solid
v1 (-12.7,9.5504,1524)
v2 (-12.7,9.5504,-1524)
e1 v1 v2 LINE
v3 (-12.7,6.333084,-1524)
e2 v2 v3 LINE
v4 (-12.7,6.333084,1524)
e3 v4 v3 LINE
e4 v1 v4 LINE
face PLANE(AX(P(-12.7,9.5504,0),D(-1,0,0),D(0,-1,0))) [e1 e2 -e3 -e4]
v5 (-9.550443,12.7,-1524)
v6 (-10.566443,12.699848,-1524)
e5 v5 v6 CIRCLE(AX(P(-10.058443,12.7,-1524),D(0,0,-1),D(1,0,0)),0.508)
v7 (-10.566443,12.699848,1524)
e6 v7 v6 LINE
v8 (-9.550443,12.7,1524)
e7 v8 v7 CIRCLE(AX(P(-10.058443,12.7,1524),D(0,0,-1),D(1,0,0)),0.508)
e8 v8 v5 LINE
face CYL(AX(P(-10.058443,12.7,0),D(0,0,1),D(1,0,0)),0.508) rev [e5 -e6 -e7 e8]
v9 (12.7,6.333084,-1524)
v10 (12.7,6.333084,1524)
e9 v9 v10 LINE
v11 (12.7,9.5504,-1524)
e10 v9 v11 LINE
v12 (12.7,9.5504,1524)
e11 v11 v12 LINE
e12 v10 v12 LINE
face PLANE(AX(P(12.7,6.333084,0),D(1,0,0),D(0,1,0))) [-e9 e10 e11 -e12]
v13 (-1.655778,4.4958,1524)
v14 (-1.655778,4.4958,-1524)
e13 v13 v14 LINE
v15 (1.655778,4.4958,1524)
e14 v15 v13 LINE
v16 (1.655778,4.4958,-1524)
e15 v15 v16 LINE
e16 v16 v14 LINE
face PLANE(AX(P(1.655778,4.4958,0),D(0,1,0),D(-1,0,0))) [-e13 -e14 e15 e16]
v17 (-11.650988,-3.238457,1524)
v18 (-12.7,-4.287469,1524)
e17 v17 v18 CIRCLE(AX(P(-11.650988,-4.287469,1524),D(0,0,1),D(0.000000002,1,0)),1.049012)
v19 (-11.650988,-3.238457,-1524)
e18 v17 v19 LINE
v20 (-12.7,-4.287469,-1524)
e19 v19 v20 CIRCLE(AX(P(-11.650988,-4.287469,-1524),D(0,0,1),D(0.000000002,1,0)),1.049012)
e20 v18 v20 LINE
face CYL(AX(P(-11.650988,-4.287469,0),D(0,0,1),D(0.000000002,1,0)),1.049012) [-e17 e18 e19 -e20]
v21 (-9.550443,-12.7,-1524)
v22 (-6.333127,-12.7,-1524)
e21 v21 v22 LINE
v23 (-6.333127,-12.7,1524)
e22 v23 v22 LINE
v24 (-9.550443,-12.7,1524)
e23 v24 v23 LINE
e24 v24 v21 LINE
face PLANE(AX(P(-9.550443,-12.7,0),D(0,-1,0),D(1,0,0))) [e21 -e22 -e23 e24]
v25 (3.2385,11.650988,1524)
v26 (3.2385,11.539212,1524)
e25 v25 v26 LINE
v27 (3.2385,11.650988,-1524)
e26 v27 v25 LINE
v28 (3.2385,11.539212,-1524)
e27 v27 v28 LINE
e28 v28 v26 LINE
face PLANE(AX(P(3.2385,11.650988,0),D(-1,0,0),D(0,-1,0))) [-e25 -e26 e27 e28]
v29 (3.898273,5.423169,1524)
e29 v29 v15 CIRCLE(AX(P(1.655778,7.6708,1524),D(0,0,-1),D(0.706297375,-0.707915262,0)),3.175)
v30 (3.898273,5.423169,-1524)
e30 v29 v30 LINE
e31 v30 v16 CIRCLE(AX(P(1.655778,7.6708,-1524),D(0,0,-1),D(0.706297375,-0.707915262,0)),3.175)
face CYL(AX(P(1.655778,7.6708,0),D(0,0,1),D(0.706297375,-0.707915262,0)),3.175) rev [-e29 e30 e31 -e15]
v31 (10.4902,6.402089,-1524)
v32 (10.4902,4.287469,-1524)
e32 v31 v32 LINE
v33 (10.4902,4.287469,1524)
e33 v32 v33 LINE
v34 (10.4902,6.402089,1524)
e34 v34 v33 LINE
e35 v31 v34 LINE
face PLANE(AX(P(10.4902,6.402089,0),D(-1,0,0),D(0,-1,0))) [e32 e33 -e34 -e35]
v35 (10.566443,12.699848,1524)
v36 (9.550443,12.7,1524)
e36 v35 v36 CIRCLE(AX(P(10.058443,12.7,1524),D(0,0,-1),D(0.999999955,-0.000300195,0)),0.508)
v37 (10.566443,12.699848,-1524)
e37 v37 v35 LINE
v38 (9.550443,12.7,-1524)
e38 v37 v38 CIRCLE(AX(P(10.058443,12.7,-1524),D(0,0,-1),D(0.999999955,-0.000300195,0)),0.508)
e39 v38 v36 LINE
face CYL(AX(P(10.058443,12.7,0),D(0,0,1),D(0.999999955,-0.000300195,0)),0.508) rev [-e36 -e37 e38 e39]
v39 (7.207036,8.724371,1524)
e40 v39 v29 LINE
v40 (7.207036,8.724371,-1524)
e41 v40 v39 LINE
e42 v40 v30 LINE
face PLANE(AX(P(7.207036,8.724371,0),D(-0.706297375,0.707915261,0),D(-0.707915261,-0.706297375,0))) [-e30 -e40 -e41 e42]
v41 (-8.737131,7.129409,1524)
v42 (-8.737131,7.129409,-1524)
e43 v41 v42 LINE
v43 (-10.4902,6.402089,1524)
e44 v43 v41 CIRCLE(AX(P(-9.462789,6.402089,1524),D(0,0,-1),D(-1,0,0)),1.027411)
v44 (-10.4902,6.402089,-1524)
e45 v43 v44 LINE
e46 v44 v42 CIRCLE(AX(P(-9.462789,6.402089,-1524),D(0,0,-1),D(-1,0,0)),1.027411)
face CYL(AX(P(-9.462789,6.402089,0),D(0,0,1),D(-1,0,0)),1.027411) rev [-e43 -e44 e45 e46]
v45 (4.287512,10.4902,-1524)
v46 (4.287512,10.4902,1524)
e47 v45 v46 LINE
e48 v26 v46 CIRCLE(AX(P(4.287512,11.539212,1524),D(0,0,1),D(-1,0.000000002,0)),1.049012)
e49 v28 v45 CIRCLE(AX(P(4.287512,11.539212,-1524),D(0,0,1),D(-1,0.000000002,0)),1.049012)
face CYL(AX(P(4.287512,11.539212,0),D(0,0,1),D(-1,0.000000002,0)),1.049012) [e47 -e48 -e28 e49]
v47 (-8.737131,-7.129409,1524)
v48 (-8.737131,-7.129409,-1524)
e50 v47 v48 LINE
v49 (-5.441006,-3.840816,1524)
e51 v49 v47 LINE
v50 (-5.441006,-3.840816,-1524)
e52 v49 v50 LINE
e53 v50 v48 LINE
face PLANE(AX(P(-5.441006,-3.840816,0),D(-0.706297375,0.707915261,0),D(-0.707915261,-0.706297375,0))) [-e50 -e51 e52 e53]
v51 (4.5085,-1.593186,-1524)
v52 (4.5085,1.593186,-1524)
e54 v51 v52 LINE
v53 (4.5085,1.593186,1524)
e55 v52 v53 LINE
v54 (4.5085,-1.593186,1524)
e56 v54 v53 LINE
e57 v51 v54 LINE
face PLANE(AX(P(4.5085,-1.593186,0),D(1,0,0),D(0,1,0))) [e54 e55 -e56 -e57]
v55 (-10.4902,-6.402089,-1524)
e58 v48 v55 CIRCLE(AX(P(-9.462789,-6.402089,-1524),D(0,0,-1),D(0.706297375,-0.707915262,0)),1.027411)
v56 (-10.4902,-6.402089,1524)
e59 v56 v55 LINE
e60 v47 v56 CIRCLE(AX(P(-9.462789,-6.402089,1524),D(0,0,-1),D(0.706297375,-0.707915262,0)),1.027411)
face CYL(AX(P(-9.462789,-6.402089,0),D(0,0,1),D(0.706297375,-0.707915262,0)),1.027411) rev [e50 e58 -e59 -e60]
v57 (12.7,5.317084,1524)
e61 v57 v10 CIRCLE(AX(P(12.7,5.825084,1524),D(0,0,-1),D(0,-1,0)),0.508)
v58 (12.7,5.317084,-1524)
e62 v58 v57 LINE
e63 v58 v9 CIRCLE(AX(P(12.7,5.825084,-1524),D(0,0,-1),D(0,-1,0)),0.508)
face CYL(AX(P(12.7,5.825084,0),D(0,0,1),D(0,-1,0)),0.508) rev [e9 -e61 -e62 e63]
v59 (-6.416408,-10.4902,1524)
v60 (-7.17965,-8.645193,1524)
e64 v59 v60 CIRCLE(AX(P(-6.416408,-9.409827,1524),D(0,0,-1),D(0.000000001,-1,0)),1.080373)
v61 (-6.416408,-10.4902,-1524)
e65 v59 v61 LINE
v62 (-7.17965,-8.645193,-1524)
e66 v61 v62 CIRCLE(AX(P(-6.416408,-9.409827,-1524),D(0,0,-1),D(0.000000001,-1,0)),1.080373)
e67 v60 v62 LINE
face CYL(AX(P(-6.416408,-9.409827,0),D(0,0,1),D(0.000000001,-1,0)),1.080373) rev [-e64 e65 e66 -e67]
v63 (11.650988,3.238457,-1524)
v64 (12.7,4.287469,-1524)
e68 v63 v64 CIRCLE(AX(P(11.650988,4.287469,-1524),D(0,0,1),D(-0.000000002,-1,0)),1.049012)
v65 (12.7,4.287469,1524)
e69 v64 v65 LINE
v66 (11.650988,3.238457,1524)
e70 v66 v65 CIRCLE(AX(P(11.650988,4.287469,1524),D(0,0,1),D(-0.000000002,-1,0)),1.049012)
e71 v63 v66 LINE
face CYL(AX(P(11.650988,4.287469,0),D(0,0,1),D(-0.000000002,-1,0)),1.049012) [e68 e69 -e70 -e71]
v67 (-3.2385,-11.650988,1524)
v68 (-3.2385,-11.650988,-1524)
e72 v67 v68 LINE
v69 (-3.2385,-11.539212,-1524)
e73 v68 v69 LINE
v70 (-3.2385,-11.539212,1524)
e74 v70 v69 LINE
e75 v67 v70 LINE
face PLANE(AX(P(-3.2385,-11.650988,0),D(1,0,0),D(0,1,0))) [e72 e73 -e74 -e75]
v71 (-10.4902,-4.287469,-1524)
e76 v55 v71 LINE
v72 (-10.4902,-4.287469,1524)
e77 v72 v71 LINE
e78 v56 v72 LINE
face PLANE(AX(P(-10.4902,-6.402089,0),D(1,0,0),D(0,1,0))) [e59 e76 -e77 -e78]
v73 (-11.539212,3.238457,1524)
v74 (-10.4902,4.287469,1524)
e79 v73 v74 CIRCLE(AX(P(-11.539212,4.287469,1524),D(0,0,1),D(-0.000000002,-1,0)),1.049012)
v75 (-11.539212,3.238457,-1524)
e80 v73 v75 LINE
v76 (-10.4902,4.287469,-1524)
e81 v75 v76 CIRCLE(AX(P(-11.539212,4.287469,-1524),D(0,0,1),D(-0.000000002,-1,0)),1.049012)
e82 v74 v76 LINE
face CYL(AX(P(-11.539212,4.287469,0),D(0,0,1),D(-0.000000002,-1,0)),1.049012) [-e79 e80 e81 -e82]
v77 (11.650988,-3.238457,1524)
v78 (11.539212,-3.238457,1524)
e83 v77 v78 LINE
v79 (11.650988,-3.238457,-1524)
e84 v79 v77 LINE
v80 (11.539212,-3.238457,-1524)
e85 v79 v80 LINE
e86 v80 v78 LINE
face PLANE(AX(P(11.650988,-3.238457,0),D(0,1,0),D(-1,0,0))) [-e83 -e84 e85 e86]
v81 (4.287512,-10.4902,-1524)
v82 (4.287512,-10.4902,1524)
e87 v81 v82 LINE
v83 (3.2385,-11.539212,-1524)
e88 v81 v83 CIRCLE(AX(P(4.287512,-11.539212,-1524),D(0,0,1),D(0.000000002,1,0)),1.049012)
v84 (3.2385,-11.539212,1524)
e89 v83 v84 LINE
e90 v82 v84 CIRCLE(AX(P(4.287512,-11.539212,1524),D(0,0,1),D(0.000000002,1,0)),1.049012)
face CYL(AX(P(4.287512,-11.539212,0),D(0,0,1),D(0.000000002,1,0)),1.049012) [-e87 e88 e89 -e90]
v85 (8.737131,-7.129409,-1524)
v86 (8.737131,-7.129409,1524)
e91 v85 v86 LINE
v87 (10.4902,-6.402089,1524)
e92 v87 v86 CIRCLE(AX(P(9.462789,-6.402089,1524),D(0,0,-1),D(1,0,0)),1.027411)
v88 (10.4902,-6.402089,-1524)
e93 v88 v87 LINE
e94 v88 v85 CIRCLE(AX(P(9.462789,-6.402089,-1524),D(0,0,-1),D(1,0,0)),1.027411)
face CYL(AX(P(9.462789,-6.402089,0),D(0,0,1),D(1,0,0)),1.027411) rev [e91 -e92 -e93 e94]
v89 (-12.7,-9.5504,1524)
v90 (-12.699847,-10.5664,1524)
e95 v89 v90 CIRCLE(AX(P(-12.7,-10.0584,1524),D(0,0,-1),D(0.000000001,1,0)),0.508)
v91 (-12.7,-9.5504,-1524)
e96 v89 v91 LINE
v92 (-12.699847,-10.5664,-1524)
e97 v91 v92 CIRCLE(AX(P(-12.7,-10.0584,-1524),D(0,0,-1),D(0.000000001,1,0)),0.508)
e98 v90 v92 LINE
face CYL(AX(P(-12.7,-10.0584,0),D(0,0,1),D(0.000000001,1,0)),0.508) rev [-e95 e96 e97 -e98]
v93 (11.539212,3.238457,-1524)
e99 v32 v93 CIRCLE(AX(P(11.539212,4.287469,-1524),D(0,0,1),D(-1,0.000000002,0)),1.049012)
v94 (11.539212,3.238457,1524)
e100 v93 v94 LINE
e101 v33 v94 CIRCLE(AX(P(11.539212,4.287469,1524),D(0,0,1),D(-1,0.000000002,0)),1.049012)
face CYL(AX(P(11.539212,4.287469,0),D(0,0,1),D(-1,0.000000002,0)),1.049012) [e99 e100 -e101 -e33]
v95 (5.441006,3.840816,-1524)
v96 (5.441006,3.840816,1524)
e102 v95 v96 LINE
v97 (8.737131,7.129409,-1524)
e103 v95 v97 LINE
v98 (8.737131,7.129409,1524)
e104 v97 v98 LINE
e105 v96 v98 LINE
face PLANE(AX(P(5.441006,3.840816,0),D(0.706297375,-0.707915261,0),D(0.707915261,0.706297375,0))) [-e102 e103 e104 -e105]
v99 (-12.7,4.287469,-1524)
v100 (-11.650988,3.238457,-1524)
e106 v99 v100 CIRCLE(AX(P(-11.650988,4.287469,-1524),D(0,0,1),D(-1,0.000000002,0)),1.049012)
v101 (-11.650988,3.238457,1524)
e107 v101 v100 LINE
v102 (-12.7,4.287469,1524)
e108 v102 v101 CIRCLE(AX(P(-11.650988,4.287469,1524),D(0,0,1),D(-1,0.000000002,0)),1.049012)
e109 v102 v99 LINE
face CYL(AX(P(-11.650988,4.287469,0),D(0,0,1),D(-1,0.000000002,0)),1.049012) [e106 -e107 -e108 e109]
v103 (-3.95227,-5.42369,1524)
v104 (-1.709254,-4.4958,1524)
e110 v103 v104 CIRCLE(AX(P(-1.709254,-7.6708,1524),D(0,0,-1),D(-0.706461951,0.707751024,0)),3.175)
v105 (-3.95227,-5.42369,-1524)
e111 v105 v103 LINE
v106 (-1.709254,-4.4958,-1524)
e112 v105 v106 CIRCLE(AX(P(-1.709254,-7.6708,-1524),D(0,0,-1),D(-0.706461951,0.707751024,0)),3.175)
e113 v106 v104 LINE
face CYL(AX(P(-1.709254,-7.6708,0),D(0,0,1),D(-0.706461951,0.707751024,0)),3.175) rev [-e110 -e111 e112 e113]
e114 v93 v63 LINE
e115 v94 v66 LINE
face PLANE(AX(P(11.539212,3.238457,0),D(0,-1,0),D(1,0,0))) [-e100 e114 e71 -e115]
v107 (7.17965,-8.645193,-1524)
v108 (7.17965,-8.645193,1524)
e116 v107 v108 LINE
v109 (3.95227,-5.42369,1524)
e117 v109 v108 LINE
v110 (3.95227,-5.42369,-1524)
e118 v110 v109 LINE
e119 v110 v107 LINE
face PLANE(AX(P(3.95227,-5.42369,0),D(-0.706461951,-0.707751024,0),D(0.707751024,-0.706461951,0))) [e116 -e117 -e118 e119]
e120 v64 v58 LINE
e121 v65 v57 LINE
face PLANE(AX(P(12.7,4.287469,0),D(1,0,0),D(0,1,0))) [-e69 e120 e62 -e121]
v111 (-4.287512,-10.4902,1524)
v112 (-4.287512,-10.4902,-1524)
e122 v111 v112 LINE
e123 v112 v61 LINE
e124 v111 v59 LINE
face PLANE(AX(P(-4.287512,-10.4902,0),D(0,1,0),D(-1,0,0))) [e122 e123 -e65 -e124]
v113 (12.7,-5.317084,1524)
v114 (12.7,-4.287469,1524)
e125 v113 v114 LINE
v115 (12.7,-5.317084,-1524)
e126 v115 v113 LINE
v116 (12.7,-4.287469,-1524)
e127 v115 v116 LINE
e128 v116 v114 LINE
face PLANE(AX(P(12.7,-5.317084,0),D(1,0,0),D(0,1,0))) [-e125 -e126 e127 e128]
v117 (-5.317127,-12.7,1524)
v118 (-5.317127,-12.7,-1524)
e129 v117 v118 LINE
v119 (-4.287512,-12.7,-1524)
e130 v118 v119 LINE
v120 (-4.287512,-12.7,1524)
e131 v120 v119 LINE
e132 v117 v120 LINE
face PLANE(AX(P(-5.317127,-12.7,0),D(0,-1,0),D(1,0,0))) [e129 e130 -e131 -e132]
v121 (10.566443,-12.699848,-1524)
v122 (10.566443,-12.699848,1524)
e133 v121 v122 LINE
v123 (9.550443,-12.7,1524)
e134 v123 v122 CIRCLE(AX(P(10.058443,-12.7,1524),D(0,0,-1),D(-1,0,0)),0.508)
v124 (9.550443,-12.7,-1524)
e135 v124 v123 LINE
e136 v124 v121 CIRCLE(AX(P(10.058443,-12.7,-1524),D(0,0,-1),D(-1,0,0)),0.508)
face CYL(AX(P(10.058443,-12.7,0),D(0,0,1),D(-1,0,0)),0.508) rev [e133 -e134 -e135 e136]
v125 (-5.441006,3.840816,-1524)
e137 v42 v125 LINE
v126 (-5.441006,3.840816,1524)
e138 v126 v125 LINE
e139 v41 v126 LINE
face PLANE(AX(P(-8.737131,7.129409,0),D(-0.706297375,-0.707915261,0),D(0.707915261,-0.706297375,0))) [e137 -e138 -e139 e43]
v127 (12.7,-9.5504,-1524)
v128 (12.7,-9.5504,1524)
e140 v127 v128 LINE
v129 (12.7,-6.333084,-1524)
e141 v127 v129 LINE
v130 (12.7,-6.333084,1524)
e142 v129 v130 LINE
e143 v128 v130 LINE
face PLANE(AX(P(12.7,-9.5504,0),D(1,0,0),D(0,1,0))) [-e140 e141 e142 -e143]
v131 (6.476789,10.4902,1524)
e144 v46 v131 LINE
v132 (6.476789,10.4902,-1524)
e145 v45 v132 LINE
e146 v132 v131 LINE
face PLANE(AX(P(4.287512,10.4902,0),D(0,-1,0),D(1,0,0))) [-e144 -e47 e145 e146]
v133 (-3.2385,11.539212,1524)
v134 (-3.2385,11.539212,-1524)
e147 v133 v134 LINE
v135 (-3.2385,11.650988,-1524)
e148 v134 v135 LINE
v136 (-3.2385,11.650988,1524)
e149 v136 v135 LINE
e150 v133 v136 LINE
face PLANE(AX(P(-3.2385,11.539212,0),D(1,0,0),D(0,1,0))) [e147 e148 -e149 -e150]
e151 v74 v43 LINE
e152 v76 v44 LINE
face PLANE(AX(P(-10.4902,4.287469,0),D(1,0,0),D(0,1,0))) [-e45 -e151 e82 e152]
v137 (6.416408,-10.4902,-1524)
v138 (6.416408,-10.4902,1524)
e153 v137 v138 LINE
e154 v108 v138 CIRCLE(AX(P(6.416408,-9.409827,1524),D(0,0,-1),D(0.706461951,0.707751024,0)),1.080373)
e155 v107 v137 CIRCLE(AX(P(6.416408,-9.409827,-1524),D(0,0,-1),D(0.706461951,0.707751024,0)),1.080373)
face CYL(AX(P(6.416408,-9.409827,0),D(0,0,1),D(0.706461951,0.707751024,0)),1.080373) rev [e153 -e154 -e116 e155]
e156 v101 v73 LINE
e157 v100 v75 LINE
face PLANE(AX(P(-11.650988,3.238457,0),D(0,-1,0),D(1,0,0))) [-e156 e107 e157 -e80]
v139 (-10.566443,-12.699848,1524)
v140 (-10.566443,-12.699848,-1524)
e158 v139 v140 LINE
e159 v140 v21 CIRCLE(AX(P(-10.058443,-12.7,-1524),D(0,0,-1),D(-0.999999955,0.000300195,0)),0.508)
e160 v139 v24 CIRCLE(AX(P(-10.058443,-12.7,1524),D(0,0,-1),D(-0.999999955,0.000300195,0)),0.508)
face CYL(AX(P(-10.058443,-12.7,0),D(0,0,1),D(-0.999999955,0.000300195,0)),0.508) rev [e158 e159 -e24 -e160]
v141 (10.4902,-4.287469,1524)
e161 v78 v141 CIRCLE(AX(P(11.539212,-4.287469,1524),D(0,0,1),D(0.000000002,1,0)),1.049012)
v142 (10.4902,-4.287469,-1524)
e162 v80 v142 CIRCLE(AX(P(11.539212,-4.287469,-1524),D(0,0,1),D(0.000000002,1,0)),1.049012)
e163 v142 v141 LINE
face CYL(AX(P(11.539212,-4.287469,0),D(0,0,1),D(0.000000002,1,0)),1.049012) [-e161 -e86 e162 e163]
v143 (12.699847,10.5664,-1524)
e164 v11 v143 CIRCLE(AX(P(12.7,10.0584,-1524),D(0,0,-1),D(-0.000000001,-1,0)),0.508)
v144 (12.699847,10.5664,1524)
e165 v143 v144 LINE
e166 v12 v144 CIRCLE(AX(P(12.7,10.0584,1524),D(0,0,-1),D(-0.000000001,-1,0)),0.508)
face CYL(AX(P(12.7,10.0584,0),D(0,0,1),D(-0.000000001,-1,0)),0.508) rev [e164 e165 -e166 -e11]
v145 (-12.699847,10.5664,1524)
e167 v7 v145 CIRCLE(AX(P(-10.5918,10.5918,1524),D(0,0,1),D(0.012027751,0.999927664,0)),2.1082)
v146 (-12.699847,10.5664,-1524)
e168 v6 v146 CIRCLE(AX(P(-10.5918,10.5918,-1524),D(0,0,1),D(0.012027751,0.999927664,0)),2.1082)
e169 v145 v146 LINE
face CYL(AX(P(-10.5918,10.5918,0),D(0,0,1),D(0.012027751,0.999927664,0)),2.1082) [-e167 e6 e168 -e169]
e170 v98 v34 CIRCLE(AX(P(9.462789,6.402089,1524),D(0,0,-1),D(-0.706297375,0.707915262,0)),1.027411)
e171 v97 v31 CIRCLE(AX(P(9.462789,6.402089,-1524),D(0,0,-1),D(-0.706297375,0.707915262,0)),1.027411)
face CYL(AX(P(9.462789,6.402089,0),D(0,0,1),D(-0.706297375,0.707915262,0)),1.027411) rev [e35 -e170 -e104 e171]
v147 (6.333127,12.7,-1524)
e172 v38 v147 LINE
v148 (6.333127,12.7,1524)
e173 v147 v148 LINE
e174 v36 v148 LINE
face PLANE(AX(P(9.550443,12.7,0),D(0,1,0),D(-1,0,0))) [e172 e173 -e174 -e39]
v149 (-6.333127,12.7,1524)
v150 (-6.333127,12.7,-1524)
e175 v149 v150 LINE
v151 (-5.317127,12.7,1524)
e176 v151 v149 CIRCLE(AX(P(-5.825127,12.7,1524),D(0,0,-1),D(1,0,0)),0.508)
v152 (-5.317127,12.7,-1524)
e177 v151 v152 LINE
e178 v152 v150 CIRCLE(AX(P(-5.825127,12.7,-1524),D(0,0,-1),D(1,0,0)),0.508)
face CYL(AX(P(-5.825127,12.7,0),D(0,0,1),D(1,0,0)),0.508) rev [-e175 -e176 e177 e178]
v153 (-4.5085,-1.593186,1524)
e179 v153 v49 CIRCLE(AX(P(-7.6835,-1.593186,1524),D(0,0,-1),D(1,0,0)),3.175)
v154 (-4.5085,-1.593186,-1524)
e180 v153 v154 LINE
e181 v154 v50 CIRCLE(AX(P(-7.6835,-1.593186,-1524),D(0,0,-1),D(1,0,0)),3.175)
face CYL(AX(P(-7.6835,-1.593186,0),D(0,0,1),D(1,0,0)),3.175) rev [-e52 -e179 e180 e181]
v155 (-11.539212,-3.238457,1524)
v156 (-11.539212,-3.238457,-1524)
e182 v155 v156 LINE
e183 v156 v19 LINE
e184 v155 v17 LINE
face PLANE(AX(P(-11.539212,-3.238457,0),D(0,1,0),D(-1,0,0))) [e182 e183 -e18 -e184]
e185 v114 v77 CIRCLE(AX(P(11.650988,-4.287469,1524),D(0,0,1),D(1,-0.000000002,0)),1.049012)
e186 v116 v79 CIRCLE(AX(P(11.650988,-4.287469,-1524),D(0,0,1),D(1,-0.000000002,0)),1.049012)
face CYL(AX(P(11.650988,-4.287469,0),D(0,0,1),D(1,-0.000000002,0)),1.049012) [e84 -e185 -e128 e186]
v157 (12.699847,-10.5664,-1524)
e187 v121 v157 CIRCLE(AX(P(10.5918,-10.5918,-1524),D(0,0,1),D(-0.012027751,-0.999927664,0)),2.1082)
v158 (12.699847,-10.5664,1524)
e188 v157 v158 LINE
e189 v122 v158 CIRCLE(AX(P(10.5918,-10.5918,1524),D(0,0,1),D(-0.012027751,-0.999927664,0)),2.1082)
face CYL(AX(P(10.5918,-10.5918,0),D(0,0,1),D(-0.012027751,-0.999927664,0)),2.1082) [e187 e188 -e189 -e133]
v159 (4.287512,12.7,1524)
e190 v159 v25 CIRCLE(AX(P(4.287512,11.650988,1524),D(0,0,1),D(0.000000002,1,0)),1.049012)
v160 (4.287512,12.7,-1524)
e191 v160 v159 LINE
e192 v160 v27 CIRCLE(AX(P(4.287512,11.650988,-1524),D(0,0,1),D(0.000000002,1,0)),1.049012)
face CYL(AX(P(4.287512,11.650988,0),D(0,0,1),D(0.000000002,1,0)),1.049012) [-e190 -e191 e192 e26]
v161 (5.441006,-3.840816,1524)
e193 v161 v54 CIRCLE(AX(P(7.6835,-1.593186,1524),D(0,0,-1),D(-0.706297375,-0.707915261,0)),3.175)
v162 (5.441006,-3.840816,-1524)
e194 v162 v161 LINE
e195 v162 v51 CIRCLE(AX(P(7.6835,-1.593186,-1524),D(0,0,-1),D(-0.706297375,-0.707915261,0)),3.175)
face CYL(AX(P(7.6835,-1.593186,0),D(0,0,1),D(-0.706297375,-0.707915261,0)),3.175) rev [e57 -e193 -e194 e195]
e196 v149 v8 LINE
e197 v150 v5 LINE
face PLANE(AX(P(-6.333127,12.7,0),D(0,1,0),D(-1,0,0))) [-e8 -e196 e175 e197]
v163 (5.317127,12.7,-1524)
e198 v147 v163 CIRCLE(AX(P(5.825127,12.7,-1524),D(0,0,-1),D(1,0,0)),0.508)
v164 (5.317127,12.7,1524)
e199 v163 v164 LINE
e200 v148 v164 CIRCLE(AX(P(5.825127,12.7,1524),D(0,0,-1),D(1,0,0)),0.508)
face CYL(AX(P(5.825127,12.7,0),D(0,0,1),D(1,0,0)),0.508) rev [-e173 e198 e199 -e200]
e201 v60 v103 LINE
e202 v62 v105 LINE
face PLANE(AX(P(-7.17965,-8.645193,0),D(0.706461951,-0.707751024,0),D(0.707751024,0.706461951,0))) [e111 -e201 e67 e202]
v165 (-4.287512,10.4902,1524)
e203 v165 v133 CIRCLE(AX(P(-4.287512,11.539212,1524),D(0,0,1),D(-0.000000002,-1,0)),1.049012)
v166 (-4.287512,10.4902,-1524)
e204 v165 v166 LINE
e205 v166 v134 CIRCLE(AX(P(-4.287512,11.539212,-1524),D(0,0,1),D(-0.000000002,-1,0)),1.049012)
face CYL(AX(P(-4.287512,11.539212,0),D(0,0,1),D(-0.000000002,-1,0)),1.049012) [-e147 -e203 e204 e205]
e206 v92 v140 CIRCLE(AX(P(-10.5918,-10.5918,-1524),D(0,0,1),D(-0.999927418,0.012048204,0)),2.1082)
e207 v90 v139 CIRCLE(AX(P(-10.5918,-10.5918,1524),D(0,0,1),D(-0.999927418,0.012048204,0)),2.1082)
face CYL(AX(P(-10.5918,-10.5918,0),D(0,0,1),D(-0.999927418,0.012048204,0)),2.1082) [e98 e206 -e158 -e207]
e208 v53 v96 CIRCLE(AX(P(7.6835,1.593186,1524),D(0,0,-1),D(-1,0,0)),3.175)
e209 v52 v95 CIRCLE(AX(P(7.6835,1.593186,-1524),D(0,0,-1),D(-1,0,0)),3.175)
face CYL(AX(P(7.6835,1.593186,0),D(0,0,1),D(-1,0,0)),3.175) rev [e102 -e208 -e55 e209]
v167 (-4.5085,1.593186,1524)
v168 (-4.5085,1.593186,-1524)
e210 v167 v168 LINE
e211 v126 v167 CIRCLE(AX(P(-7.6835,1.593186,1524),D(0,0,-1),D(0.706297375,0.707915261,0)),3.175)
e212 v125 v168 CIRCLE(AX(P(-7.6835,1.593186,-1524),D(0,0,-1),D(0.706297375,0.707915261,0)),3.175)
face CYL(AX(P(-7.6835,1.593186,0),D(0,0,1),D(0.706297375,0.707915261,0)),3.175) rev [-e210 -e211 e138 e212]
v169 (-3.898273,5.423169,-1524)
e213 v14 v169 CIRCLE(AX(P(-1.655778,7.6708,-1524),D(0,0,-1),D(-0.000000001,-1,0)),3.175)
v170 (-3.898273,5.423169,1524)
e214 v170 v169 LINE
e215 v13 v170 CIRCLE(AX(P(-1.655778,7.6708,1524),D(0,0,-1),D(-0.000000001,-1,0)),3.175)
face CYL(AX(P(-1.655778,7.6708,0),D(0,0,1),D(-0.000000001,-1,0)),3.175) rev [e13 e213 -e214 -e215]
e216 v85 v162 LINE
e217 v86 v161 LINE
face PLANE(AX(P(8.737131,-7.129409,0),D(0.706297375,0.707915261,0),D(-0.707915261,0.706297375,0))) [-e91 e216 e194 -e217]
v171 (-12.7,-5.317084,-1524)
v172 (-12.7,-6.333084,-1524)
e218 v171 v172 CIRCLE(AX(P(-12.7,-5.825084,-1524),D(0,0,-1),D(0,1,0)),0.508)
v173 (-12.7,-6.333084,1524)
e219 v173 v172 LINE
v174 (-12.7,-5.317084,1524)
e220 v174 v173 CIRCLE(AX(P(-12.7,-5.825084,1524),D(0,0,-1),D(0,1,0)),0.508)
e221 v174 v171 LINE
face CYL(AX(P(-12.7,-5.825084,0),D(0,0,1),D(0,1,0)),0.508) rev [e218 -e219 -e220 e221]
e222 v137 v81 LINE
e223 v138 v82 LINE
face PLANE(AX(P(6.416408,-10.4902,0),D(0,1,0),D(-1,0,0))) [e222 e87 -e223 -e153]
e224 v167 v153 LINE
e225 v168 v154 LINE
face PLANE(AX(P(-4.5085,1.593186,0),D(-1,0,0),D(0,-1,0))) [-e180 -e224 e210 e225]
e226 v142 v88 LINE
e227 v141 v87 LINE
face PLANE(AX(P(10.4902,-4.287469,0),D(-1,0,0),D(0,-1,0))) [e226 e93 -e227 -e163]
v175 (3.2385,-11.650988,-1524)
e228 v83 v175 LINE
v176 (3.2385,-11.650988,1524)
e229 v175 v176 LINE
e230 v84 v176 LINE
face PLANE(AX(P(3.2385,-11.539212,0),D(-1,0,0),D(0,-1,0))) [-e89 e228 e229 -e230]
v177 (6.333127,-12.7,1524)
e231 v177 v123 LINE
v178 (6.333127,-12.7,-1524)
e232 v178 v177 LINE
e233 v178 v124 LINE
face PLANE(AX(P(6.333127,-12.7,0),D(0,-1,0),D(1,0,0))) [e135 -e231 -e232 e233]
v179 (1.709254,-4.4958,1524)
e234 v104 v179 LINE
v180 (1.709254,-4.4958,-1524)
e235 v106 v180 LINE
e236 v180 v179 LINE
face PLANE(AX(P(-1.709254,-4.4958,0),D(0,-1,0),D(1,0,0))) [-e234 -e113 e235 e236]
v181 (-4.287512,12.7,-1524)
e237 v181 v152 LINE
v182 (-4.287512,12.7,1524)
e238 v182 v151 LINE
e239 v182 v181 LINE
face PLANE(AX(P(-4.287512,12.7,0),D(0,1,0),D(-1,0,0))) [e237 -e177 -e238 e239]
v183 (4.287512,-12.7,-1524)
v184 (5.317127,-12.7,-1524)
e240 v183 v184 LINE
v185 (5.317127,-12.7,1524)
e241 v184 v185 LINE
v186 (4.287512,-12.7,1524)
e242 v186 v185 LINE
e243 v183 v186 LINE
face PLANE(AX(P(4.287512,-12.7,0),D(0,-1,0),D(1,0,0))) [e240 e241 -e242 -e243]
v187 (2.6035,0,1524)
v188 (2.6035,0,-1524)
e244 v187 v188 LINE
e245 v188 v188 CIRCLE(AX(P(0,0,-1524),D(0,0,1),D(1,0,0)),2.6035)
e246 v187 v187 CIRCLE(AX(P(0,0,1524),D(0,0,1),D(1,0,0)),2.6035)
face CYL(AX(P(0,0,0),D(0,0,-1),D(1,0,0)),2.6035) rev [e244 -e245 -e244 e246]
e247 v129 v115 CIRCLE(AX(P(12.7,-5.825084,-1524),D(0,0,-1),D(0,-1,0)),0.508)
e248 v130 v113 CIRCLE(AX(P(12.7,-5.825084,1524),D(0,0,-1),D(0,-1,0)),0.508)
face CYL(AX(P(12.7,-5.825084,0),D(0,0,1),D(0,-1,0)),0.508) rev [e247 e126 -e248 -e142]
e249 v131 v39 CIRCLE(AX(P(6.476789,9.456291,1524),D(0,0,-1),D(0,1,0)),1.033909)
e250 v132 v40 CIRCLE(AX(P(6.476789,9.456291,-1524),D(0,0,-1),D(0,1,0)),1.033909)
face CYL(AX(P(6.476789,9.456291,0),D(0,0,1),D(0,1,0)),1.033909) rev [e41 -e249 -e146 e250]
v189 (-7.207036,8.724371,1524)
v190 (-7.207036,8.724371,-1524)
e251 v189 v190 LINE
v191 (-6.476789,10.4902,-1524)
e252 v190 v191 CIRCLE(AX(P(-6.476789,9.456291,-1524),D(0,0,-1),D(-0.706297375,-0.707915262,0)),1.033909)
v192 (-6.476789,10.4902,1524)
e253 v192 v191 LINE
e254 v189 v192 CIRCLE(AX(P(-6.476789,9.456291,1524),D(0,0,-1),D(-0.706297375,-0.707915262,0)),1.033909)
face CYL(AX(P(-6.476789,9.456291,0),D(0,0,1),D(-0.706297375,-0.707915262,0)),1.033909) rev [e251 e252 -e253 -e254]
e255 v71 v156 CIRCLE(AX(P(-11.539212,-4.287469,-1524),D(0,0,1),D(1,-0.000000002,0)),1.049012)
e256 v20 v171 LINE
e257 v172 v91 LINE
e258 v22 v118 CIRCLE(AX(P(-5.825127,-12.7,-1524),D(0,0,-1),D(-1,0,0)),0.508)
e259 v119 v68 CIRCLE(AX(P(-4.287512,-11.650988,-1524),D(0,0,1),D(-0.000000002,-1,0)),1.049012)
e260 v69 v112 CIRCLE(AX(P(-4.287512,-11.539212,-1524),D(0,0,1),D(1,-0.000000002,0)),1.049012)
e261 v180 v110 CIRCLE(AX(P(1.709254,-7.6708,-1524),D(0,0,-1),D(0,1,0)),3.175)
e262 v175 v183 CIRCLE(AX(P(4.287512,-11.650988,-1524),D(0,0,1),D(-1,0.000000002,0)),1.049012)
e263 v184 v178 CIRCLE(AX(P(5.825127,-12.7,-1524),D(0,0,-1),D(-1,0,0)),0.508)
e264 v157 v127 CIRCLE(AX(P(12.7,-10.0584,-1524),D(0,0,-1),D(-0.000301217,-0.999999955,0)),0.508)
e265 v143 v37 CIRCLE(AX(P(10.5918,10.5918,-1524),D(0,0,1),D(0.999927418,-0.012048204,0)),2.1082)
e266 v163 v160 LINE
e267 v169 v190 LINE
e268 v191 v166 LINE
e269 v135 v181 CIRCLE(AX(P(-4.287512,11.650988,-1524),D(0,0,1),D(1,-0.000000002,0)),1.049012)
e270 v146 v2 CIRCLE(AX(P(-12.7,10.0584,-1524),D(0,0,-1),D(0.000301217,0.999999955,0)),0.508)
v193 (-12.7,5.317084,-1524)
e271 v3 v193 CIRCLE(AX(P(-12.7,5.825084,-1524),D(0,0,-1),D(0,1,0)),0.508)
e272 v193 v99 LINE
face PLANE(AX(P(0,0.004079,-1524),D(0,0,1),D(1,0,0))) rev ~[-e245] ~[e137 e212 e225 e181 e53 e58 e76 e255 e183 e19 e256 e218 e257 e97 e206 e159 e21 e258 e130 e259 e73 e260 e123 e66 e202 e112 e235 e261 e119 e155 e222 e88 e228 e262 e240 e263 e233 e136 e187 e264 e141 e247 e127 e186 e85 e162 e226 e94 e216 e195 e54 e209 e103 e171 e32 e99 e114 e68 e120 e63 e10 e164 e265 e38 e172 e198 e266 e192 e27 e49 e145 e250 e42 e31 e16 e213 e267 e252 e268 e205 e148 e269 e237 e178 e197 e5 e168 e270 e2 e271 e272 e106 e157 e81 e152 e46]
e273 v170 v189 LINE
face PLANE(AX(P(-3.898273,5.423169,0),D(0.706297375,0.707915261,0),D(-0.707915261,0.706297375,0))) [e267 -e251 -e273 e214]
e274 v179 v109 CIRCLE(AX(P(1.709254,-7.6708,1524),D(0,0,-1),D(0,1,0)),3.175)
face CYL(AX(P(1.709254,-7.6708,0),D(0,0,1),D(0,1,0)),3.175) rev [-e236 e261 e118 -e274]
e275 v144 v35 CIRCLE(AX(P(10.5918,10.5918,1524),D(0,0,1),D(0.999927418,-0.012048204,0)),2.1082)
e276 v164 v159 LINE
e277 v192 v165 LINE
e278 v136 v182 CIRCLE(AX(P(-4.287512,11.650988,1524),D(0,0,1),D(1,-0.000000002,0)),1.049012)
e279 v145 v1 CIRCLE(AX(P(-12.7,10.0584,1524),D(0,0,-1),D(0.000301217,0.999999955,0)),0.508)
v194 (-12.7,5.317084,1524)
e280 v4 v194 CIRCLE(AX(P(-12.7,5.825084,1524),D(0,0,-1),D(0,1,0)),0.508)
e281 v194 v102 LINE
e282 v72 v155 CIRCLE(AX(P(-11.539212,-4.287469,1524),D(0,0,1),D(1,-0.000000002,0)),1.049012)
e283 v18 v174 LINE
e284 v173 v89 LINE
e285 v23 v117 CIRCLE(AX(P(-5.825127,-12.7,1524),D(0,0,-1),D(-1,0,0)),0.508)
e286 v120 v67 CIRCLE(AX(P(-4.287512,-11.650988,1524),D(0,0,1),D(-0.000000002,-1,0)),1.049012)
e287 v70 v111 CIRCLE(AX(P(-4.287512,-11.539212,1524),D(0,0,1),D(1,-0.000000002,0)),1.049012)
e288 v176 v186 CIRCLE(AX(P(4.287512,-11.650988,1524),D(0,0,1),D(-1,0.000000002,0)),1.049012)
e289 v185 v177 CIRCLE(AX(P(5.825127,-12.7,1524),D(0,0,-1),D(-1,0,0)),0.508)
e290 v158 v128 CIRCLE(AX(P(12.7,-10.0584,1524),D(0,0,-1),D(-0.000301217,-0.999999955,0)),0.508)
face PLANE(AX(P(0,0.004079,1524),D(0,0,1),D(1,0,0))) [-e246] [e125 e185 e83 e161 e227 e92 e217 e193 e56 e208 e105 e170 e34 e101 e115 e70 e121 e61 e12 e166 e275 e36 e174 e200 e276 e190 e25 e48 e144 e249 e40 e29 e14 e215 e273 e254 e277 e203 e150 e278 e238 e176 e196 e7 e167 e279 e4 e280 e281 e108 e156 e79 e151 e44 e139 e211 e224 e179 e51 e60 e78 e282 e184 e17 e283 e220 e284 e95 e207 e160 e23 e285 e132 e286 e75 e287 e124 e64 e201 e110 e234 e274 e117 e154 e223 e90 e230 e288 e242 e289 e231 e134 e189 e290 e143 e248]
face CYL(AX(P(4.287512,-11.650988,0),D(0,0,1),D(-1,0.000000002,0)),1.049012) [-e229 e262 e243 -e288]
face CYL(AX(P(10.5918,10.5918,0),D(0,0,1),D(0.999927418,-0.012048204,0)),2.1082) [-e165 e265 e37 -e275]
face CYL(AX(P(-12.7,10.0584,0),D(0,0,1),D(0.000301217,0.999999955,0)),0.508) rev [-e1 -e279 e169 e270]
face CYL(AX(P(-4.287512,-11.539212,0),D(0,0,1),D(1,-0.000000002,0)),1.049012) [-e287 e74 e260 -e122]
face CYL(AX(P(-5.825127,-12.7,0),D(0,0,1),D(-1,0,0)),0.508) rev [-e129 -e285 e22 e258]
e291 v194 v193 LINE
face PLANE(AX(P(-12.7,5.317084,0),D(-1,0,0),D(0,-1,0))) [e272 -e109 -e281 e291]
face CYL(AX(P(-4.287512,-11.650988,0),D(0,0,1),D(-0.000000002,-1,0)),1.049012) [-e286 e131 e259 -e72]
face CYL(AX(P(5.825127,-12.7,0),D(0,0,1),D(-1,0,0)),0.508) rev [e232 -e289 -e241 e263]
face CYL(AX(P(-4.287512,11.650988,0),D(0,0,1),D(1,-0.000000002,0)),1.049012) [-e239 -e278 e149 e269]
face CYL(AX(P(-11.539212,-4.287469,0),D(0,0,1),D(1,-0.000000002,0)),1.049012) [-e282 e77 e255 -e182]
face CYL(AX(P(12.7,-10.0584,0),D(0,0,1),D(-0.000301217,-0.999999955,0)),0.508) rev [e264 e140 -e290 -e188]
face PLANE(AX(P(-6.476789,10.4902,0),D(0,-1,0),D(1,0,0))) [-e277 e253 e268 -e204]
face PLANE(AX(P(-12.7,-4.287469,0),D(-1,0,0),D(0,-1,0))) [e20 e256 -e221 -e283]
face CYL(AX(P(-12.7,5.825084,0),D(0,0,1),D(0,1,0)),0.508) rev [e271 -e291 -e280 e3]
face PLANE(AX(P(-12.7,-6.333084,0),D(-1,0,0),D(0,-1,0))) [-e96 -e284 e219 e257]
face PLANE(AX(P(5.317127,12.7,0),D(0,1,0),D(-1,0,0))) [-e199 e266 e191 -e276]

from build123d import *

# Parameters (mm, degrees)
SKETCH1_R           = 2.6035
BOSS_EXTRUDE1_DEPTH = 1524


with BuildPart() as part:
    # Sketch1 → Boss-Extrude1 (new, symmetric)
    with BuildSketch(Plane.XY):
        with BuildLine():
            Line((-7.179650497, -8.645192506), (-3.952270251, -5.423690499))
            ThreePointArc((-3.952270251, -5.423690499), (-2.922936451, -4.736929036), (-1.709253557, -4.4958))
            Line((-1.709253557, -4.4958), (1.709253557, -4.4958))
            ThreePointArc((1.709253557, -4.4958), (2.922936451, -4.736929036), (3.952270251, -5.423690499))
            Line((3.952270251, -5.423690499), (7.179650497, -8.645192506))
            ThreePointArc((7.179650497, -8.645192506), (7.41473083, -9.822813117), (6.416408329, -10.4902))
            Line((6.416408329, -10.4902), (4.287512407, -10.4902))
            ThreePointArc((4.287512407, -10.4902), (3.54574862, -10.79744862), (3.2385, -11.539212407))
            Line((3.2385, -11.539212407), (3.2385, -11.650987593))
            ThreePointArc((3.2385, -11.650987593), (3.54574862, -12.39275138), (4.287512407, -12.7))
            Line((4.287512407, -12.7), (5.317126718, -12.7))
            ThreePointArc((5.317126718, -12.7), (5.825126718, -12.192), (6.333126718, -12.7))
            Line((6.333126718, -12.7), (9.550443118, -12.7))
            ThreePointArc((9.550443118, -12.7), (10.058366869, -12.192000006), (10.566443095, -12.699847501))
            ThreePointArc((10.566443095, -12.699847501), (12.082537762, -12.08250727), (12.699846982, -10.566399977))
            ThreePointArc((12.699846982, -10.566399977), (12.192000006, -10.058323491), (12.7, -9.5504))
            Line((12.7, -9.5504), (12.7, -6.3330836))
            ThreePointArc((12.7, -6.3330836), (12.192, -5.8250836), (12.7, -5.3170836))
            Line((12.7, -5.3170836), (12.7, -4.287469289))
            ThreePointArc((12.7, -4.287469289), (12.39275138, -3.545705502), (11.650987593, -3.238456882))
            Line((11.650987593, -3.238456882), (11.539212407, -3.238456882))
            ThreePointArc((11.539212407, -3.238456882), (10.79744862, -3.545705502), (10.4902, -4.287469289))
            Line((10.4902, -4.287469289), (10.4902, -6.402089023))
            ThreePointArc((10.4902, -6.402089023), (9.856505071, -7.351067942), (8.737131347, -7.129408934))
            Line((8.737131347, -7.129408934), (5.441005833, -3.840816462))
            ThreePointArc((5.441005833, -3.840816462), (4.750877967, -2.809883091), (4.5085, -1.593185507))
            Line((4.5085, -1.593185507), (4.5085, 1.593185507))
            ThreePointArc((4.5085, 1.593185507), (4.750877967, 2.809883091), (5.441005833, 3.840816462))
            Line((5.441005833, 3.840816462), (8.737131347, 7.129408934))
            ThreePointArc((8.737131347, 7.129408934), (9.856505071, 7.351067942), (10.4902, 6.402089023))
            Line((10.4902, 6.402089023), (10.4902, 4.287469289))
            ThreePointArc((10.4902, 4.287469289), (10.79744862, 3.545705502), (11.539212407, 3.238456882))
            Line((11.539212407, 3.238456882), (11.650987593, 3.238456882))
            ThreePointArc((11.650987593, 3.238456882), (12.39275138, 3.545705502), (12.7, 4.287469289))
            Line((12.7, 4.287469289), (12.7, 5.3170836))
            ThreePointArc((12.7, 5.3170836), (12.192, 5.8250836), (12.7, 6.3330836))
            Line((12.7, 6.3330836), (12.7, 9.5504))
            ThreePointArc((12.7, 9.5504), (12.192000006, 10.058323491), (12.699846982, 10.566399977))
            ThreePointArc((12.699846982, 10.566399977), (12.082537762, 12.08250727), (10.566443095, 12.699847501))
            ThreePointArc((10.566443095, 12.699847501), (10.058366869, 12.192000006), (9.550443118, 12.7))
            Line((9.550443118, 12.7), (6.333126718, 12.7))
            ThreePointArc((6.333126718, 12.7), (5.825126718, 12.192), (5.317126718, 12.7))
            Line((5.317126718, 12.7), (4.287512407, 12.7))
            ThreePointArc((4.287512407, 12.7), (3.54574862, 12.39275138), (3.2385, 11.650987593))
            Line((3.2385, 11.650987593), (3.2385, 11.539212407))
            ThreePointArc((3.2385, 11.539212407), (3.54574862, 10.79744862), (4.287512407, 10.4902))
            Line((4.287512407, 10.4902), (6.476788598, 10.4902))
            ThreePointArc((6.476788598, 10.4902), (7.432222385, 9.85140422), (7.207036008, 8.724370562))
            Line((7.207036008, 8.724370562), (3.898272566, 5.423169045))
            ThreePointArc((3.898272566, 5.423169045), (2.869120213, 4.736787962), (1.655778399, 4.4958))
            Line((1.655778399, 4.4958), (-1.655778399, 4.4958))
            ThreePointArc((-1.655778399, 4.4958), (-2.869120213, 4.736787962), (-3.898272566, 5.423169045))
            Line((-3.898272566, 5.423169045), (-7.207036008, 8.724370562))
            ThreePointArc((-7.207036008, 8.724370562), (-7.432222385, 9.85140422), (-6.476788598, 10.4902))
            Line((-6.476788598, 10.4902), (-4.287512407, 10.4902))
            ThreePointArc((-4.287512407, 10.4902), (-3.54574862, 10.79744862), (-3.2385, 11.539212407))
            Line((-3.2385, 11.539212407), (-3.2385, 11.650987593))
            ThreePointArc((-3.2385, 11.650987593), (-3.54574862, 12.39275138), (-4.287512407, 12.7))
            Line((-4.287512407, 12.7), (-5.317126718, 12.7))
            ThreePointArc((-5.317126718, 12.7), (-5.825126718, 12.192), (-6.333126718, 12.7))
            Line((-6.333126718, 12.7), (-9.550443118, 12.7))
            ThreePointArc((-9.550443118, 12.7), (-10.058366869, 12.192000006), (-10.566443095, 12.699847501))
            ThreePointArc((-10.566443095, 12.699847501), (-12.082537762, 12.08250727), (-12.699846982, 10.566399977))
            ThreePointArc((-12.699846982, 10.566399977), (-12.192000006, 10.058323491), (-12.7, 9.5504))
            Line((-12.7, 9.5504), (-12.7, 6.3330836))
            ThreePointArc((-12.7, 6.3330836), (-12.192, 5.8250836), (-12.7, 5.3170836))
            Line((-12.7, 5.3170836), (-12.7, 4.287469289))
            ThreePointArc((-12.7, 4.287469289), (-12.39275138, 3.545705502), (-11.650987593, 3.238456882))
            Line((-11.650987593, 3.238456882), (-11.539212407, 3.238456882))
            ThreePointArc((-11.539212407, 3.238456882), (-10.79744862, 3.545705502), (-10.4902, 4.287469289))
            Line((-10.4902, 4.287469289), (-10.4902, 6.402089023))
            ThreePointArc((-10.4902, 6.402089023), (-9.856505071, 7.351067942), (-8.737131347, 7.129408934))
            Line((-8.737131347, 7.129408934), (-5.441005833, 3.840816462))
            ThreePointArc((-5.441005833, 3.840816462), (-4.750877967, 2.809883091), (-4.5085, 1.593185507))
            Line((-4.5085, 1.593185507), (-4.5085, -1.593185507))
            ThreePointArc((-4.5085, -1.593185507), (-4.750877967, -2.809883091), (-5.441005833, -3.840816462))
            Line((-5.441005833, -3.840816462), (-8.737131347, -7.129408934))
            ThreePointArc((-8.737131347, -7.129408934), (-9.856505071, -7.351067942), (-10.4902, -6.402089023))
            Line((-10.4902, -6.402089023), (-10.4902, -4.287469289))
            ThreePointArc((-10.4902, -4.287469289), (-10.79744862, -3.545705502), (-11.539212407, -3.238456882))
            Line((-11.539212407, -3.238456882), (-11.650987593, -3.238456882))
            ThreePointArc((-11.650987593, -3.238456882), (-12.39275138, -3.545705502), (-12.7, -4.287469289))
            Line((-12.7, -4.287469289), (-12.7, -5.3170836))
            ThreePointArc((-12.7, -5.3170836), (-12.192, -5.8250836), (-12.7, -6.3330836))
            Line((-12.7, -6.3330836), (-12.7, -9.5504))
            ThreePointArc((-12.7, -9.5504), (-12.192000006, -10.058323491), (-12.699846982, -10.566399977))
            ThreePointArc((-12.699846982, -10.566399977), (-12.082537762, -12.08250727), (-10.566443095, -12.699847501))
            ThreePointArc((-10.566443095, -12.699847501), (-10.058366869, -12.192000006), (-9.550443118, -12.7))
            Line((-9.550443118, -12.7), (-6.333126718, -12.7))
            ThreePointArc((-6.333126718, -12.7), (-5.825126718, -12.192), (-5.317126718, -12.7))
            Line((-5.317126718, -12.7), (-4.287512407, -12.7))
            ThreePointArc((-4.287512407, -12.7), (-3.54574862, -12.39275138), (-3.2385, -11.650987593))
            Line((-3.2385, -11.650987593), (-3.2385, -11.539212407))
            ThreePointArc((-3.2385, -11.539212407), (-3.54574862, -10.79744862), (-4.287512407, -10.4902))
            Line((-4.287512407, -10.4902), (-6.416408329, -10.4902))
            ThreePointArc((-6.416408329, -10.4902), (-7.41473083, -9.822813117), (-7.179650497, -8.645192506))
        make_face()
        Circle(SKETCH1_R, mode=Mode.SUBTRACT)
    extrude(amount=BOSS_EXTRUDE1_DEPTH, both=True)


solid = part.part
